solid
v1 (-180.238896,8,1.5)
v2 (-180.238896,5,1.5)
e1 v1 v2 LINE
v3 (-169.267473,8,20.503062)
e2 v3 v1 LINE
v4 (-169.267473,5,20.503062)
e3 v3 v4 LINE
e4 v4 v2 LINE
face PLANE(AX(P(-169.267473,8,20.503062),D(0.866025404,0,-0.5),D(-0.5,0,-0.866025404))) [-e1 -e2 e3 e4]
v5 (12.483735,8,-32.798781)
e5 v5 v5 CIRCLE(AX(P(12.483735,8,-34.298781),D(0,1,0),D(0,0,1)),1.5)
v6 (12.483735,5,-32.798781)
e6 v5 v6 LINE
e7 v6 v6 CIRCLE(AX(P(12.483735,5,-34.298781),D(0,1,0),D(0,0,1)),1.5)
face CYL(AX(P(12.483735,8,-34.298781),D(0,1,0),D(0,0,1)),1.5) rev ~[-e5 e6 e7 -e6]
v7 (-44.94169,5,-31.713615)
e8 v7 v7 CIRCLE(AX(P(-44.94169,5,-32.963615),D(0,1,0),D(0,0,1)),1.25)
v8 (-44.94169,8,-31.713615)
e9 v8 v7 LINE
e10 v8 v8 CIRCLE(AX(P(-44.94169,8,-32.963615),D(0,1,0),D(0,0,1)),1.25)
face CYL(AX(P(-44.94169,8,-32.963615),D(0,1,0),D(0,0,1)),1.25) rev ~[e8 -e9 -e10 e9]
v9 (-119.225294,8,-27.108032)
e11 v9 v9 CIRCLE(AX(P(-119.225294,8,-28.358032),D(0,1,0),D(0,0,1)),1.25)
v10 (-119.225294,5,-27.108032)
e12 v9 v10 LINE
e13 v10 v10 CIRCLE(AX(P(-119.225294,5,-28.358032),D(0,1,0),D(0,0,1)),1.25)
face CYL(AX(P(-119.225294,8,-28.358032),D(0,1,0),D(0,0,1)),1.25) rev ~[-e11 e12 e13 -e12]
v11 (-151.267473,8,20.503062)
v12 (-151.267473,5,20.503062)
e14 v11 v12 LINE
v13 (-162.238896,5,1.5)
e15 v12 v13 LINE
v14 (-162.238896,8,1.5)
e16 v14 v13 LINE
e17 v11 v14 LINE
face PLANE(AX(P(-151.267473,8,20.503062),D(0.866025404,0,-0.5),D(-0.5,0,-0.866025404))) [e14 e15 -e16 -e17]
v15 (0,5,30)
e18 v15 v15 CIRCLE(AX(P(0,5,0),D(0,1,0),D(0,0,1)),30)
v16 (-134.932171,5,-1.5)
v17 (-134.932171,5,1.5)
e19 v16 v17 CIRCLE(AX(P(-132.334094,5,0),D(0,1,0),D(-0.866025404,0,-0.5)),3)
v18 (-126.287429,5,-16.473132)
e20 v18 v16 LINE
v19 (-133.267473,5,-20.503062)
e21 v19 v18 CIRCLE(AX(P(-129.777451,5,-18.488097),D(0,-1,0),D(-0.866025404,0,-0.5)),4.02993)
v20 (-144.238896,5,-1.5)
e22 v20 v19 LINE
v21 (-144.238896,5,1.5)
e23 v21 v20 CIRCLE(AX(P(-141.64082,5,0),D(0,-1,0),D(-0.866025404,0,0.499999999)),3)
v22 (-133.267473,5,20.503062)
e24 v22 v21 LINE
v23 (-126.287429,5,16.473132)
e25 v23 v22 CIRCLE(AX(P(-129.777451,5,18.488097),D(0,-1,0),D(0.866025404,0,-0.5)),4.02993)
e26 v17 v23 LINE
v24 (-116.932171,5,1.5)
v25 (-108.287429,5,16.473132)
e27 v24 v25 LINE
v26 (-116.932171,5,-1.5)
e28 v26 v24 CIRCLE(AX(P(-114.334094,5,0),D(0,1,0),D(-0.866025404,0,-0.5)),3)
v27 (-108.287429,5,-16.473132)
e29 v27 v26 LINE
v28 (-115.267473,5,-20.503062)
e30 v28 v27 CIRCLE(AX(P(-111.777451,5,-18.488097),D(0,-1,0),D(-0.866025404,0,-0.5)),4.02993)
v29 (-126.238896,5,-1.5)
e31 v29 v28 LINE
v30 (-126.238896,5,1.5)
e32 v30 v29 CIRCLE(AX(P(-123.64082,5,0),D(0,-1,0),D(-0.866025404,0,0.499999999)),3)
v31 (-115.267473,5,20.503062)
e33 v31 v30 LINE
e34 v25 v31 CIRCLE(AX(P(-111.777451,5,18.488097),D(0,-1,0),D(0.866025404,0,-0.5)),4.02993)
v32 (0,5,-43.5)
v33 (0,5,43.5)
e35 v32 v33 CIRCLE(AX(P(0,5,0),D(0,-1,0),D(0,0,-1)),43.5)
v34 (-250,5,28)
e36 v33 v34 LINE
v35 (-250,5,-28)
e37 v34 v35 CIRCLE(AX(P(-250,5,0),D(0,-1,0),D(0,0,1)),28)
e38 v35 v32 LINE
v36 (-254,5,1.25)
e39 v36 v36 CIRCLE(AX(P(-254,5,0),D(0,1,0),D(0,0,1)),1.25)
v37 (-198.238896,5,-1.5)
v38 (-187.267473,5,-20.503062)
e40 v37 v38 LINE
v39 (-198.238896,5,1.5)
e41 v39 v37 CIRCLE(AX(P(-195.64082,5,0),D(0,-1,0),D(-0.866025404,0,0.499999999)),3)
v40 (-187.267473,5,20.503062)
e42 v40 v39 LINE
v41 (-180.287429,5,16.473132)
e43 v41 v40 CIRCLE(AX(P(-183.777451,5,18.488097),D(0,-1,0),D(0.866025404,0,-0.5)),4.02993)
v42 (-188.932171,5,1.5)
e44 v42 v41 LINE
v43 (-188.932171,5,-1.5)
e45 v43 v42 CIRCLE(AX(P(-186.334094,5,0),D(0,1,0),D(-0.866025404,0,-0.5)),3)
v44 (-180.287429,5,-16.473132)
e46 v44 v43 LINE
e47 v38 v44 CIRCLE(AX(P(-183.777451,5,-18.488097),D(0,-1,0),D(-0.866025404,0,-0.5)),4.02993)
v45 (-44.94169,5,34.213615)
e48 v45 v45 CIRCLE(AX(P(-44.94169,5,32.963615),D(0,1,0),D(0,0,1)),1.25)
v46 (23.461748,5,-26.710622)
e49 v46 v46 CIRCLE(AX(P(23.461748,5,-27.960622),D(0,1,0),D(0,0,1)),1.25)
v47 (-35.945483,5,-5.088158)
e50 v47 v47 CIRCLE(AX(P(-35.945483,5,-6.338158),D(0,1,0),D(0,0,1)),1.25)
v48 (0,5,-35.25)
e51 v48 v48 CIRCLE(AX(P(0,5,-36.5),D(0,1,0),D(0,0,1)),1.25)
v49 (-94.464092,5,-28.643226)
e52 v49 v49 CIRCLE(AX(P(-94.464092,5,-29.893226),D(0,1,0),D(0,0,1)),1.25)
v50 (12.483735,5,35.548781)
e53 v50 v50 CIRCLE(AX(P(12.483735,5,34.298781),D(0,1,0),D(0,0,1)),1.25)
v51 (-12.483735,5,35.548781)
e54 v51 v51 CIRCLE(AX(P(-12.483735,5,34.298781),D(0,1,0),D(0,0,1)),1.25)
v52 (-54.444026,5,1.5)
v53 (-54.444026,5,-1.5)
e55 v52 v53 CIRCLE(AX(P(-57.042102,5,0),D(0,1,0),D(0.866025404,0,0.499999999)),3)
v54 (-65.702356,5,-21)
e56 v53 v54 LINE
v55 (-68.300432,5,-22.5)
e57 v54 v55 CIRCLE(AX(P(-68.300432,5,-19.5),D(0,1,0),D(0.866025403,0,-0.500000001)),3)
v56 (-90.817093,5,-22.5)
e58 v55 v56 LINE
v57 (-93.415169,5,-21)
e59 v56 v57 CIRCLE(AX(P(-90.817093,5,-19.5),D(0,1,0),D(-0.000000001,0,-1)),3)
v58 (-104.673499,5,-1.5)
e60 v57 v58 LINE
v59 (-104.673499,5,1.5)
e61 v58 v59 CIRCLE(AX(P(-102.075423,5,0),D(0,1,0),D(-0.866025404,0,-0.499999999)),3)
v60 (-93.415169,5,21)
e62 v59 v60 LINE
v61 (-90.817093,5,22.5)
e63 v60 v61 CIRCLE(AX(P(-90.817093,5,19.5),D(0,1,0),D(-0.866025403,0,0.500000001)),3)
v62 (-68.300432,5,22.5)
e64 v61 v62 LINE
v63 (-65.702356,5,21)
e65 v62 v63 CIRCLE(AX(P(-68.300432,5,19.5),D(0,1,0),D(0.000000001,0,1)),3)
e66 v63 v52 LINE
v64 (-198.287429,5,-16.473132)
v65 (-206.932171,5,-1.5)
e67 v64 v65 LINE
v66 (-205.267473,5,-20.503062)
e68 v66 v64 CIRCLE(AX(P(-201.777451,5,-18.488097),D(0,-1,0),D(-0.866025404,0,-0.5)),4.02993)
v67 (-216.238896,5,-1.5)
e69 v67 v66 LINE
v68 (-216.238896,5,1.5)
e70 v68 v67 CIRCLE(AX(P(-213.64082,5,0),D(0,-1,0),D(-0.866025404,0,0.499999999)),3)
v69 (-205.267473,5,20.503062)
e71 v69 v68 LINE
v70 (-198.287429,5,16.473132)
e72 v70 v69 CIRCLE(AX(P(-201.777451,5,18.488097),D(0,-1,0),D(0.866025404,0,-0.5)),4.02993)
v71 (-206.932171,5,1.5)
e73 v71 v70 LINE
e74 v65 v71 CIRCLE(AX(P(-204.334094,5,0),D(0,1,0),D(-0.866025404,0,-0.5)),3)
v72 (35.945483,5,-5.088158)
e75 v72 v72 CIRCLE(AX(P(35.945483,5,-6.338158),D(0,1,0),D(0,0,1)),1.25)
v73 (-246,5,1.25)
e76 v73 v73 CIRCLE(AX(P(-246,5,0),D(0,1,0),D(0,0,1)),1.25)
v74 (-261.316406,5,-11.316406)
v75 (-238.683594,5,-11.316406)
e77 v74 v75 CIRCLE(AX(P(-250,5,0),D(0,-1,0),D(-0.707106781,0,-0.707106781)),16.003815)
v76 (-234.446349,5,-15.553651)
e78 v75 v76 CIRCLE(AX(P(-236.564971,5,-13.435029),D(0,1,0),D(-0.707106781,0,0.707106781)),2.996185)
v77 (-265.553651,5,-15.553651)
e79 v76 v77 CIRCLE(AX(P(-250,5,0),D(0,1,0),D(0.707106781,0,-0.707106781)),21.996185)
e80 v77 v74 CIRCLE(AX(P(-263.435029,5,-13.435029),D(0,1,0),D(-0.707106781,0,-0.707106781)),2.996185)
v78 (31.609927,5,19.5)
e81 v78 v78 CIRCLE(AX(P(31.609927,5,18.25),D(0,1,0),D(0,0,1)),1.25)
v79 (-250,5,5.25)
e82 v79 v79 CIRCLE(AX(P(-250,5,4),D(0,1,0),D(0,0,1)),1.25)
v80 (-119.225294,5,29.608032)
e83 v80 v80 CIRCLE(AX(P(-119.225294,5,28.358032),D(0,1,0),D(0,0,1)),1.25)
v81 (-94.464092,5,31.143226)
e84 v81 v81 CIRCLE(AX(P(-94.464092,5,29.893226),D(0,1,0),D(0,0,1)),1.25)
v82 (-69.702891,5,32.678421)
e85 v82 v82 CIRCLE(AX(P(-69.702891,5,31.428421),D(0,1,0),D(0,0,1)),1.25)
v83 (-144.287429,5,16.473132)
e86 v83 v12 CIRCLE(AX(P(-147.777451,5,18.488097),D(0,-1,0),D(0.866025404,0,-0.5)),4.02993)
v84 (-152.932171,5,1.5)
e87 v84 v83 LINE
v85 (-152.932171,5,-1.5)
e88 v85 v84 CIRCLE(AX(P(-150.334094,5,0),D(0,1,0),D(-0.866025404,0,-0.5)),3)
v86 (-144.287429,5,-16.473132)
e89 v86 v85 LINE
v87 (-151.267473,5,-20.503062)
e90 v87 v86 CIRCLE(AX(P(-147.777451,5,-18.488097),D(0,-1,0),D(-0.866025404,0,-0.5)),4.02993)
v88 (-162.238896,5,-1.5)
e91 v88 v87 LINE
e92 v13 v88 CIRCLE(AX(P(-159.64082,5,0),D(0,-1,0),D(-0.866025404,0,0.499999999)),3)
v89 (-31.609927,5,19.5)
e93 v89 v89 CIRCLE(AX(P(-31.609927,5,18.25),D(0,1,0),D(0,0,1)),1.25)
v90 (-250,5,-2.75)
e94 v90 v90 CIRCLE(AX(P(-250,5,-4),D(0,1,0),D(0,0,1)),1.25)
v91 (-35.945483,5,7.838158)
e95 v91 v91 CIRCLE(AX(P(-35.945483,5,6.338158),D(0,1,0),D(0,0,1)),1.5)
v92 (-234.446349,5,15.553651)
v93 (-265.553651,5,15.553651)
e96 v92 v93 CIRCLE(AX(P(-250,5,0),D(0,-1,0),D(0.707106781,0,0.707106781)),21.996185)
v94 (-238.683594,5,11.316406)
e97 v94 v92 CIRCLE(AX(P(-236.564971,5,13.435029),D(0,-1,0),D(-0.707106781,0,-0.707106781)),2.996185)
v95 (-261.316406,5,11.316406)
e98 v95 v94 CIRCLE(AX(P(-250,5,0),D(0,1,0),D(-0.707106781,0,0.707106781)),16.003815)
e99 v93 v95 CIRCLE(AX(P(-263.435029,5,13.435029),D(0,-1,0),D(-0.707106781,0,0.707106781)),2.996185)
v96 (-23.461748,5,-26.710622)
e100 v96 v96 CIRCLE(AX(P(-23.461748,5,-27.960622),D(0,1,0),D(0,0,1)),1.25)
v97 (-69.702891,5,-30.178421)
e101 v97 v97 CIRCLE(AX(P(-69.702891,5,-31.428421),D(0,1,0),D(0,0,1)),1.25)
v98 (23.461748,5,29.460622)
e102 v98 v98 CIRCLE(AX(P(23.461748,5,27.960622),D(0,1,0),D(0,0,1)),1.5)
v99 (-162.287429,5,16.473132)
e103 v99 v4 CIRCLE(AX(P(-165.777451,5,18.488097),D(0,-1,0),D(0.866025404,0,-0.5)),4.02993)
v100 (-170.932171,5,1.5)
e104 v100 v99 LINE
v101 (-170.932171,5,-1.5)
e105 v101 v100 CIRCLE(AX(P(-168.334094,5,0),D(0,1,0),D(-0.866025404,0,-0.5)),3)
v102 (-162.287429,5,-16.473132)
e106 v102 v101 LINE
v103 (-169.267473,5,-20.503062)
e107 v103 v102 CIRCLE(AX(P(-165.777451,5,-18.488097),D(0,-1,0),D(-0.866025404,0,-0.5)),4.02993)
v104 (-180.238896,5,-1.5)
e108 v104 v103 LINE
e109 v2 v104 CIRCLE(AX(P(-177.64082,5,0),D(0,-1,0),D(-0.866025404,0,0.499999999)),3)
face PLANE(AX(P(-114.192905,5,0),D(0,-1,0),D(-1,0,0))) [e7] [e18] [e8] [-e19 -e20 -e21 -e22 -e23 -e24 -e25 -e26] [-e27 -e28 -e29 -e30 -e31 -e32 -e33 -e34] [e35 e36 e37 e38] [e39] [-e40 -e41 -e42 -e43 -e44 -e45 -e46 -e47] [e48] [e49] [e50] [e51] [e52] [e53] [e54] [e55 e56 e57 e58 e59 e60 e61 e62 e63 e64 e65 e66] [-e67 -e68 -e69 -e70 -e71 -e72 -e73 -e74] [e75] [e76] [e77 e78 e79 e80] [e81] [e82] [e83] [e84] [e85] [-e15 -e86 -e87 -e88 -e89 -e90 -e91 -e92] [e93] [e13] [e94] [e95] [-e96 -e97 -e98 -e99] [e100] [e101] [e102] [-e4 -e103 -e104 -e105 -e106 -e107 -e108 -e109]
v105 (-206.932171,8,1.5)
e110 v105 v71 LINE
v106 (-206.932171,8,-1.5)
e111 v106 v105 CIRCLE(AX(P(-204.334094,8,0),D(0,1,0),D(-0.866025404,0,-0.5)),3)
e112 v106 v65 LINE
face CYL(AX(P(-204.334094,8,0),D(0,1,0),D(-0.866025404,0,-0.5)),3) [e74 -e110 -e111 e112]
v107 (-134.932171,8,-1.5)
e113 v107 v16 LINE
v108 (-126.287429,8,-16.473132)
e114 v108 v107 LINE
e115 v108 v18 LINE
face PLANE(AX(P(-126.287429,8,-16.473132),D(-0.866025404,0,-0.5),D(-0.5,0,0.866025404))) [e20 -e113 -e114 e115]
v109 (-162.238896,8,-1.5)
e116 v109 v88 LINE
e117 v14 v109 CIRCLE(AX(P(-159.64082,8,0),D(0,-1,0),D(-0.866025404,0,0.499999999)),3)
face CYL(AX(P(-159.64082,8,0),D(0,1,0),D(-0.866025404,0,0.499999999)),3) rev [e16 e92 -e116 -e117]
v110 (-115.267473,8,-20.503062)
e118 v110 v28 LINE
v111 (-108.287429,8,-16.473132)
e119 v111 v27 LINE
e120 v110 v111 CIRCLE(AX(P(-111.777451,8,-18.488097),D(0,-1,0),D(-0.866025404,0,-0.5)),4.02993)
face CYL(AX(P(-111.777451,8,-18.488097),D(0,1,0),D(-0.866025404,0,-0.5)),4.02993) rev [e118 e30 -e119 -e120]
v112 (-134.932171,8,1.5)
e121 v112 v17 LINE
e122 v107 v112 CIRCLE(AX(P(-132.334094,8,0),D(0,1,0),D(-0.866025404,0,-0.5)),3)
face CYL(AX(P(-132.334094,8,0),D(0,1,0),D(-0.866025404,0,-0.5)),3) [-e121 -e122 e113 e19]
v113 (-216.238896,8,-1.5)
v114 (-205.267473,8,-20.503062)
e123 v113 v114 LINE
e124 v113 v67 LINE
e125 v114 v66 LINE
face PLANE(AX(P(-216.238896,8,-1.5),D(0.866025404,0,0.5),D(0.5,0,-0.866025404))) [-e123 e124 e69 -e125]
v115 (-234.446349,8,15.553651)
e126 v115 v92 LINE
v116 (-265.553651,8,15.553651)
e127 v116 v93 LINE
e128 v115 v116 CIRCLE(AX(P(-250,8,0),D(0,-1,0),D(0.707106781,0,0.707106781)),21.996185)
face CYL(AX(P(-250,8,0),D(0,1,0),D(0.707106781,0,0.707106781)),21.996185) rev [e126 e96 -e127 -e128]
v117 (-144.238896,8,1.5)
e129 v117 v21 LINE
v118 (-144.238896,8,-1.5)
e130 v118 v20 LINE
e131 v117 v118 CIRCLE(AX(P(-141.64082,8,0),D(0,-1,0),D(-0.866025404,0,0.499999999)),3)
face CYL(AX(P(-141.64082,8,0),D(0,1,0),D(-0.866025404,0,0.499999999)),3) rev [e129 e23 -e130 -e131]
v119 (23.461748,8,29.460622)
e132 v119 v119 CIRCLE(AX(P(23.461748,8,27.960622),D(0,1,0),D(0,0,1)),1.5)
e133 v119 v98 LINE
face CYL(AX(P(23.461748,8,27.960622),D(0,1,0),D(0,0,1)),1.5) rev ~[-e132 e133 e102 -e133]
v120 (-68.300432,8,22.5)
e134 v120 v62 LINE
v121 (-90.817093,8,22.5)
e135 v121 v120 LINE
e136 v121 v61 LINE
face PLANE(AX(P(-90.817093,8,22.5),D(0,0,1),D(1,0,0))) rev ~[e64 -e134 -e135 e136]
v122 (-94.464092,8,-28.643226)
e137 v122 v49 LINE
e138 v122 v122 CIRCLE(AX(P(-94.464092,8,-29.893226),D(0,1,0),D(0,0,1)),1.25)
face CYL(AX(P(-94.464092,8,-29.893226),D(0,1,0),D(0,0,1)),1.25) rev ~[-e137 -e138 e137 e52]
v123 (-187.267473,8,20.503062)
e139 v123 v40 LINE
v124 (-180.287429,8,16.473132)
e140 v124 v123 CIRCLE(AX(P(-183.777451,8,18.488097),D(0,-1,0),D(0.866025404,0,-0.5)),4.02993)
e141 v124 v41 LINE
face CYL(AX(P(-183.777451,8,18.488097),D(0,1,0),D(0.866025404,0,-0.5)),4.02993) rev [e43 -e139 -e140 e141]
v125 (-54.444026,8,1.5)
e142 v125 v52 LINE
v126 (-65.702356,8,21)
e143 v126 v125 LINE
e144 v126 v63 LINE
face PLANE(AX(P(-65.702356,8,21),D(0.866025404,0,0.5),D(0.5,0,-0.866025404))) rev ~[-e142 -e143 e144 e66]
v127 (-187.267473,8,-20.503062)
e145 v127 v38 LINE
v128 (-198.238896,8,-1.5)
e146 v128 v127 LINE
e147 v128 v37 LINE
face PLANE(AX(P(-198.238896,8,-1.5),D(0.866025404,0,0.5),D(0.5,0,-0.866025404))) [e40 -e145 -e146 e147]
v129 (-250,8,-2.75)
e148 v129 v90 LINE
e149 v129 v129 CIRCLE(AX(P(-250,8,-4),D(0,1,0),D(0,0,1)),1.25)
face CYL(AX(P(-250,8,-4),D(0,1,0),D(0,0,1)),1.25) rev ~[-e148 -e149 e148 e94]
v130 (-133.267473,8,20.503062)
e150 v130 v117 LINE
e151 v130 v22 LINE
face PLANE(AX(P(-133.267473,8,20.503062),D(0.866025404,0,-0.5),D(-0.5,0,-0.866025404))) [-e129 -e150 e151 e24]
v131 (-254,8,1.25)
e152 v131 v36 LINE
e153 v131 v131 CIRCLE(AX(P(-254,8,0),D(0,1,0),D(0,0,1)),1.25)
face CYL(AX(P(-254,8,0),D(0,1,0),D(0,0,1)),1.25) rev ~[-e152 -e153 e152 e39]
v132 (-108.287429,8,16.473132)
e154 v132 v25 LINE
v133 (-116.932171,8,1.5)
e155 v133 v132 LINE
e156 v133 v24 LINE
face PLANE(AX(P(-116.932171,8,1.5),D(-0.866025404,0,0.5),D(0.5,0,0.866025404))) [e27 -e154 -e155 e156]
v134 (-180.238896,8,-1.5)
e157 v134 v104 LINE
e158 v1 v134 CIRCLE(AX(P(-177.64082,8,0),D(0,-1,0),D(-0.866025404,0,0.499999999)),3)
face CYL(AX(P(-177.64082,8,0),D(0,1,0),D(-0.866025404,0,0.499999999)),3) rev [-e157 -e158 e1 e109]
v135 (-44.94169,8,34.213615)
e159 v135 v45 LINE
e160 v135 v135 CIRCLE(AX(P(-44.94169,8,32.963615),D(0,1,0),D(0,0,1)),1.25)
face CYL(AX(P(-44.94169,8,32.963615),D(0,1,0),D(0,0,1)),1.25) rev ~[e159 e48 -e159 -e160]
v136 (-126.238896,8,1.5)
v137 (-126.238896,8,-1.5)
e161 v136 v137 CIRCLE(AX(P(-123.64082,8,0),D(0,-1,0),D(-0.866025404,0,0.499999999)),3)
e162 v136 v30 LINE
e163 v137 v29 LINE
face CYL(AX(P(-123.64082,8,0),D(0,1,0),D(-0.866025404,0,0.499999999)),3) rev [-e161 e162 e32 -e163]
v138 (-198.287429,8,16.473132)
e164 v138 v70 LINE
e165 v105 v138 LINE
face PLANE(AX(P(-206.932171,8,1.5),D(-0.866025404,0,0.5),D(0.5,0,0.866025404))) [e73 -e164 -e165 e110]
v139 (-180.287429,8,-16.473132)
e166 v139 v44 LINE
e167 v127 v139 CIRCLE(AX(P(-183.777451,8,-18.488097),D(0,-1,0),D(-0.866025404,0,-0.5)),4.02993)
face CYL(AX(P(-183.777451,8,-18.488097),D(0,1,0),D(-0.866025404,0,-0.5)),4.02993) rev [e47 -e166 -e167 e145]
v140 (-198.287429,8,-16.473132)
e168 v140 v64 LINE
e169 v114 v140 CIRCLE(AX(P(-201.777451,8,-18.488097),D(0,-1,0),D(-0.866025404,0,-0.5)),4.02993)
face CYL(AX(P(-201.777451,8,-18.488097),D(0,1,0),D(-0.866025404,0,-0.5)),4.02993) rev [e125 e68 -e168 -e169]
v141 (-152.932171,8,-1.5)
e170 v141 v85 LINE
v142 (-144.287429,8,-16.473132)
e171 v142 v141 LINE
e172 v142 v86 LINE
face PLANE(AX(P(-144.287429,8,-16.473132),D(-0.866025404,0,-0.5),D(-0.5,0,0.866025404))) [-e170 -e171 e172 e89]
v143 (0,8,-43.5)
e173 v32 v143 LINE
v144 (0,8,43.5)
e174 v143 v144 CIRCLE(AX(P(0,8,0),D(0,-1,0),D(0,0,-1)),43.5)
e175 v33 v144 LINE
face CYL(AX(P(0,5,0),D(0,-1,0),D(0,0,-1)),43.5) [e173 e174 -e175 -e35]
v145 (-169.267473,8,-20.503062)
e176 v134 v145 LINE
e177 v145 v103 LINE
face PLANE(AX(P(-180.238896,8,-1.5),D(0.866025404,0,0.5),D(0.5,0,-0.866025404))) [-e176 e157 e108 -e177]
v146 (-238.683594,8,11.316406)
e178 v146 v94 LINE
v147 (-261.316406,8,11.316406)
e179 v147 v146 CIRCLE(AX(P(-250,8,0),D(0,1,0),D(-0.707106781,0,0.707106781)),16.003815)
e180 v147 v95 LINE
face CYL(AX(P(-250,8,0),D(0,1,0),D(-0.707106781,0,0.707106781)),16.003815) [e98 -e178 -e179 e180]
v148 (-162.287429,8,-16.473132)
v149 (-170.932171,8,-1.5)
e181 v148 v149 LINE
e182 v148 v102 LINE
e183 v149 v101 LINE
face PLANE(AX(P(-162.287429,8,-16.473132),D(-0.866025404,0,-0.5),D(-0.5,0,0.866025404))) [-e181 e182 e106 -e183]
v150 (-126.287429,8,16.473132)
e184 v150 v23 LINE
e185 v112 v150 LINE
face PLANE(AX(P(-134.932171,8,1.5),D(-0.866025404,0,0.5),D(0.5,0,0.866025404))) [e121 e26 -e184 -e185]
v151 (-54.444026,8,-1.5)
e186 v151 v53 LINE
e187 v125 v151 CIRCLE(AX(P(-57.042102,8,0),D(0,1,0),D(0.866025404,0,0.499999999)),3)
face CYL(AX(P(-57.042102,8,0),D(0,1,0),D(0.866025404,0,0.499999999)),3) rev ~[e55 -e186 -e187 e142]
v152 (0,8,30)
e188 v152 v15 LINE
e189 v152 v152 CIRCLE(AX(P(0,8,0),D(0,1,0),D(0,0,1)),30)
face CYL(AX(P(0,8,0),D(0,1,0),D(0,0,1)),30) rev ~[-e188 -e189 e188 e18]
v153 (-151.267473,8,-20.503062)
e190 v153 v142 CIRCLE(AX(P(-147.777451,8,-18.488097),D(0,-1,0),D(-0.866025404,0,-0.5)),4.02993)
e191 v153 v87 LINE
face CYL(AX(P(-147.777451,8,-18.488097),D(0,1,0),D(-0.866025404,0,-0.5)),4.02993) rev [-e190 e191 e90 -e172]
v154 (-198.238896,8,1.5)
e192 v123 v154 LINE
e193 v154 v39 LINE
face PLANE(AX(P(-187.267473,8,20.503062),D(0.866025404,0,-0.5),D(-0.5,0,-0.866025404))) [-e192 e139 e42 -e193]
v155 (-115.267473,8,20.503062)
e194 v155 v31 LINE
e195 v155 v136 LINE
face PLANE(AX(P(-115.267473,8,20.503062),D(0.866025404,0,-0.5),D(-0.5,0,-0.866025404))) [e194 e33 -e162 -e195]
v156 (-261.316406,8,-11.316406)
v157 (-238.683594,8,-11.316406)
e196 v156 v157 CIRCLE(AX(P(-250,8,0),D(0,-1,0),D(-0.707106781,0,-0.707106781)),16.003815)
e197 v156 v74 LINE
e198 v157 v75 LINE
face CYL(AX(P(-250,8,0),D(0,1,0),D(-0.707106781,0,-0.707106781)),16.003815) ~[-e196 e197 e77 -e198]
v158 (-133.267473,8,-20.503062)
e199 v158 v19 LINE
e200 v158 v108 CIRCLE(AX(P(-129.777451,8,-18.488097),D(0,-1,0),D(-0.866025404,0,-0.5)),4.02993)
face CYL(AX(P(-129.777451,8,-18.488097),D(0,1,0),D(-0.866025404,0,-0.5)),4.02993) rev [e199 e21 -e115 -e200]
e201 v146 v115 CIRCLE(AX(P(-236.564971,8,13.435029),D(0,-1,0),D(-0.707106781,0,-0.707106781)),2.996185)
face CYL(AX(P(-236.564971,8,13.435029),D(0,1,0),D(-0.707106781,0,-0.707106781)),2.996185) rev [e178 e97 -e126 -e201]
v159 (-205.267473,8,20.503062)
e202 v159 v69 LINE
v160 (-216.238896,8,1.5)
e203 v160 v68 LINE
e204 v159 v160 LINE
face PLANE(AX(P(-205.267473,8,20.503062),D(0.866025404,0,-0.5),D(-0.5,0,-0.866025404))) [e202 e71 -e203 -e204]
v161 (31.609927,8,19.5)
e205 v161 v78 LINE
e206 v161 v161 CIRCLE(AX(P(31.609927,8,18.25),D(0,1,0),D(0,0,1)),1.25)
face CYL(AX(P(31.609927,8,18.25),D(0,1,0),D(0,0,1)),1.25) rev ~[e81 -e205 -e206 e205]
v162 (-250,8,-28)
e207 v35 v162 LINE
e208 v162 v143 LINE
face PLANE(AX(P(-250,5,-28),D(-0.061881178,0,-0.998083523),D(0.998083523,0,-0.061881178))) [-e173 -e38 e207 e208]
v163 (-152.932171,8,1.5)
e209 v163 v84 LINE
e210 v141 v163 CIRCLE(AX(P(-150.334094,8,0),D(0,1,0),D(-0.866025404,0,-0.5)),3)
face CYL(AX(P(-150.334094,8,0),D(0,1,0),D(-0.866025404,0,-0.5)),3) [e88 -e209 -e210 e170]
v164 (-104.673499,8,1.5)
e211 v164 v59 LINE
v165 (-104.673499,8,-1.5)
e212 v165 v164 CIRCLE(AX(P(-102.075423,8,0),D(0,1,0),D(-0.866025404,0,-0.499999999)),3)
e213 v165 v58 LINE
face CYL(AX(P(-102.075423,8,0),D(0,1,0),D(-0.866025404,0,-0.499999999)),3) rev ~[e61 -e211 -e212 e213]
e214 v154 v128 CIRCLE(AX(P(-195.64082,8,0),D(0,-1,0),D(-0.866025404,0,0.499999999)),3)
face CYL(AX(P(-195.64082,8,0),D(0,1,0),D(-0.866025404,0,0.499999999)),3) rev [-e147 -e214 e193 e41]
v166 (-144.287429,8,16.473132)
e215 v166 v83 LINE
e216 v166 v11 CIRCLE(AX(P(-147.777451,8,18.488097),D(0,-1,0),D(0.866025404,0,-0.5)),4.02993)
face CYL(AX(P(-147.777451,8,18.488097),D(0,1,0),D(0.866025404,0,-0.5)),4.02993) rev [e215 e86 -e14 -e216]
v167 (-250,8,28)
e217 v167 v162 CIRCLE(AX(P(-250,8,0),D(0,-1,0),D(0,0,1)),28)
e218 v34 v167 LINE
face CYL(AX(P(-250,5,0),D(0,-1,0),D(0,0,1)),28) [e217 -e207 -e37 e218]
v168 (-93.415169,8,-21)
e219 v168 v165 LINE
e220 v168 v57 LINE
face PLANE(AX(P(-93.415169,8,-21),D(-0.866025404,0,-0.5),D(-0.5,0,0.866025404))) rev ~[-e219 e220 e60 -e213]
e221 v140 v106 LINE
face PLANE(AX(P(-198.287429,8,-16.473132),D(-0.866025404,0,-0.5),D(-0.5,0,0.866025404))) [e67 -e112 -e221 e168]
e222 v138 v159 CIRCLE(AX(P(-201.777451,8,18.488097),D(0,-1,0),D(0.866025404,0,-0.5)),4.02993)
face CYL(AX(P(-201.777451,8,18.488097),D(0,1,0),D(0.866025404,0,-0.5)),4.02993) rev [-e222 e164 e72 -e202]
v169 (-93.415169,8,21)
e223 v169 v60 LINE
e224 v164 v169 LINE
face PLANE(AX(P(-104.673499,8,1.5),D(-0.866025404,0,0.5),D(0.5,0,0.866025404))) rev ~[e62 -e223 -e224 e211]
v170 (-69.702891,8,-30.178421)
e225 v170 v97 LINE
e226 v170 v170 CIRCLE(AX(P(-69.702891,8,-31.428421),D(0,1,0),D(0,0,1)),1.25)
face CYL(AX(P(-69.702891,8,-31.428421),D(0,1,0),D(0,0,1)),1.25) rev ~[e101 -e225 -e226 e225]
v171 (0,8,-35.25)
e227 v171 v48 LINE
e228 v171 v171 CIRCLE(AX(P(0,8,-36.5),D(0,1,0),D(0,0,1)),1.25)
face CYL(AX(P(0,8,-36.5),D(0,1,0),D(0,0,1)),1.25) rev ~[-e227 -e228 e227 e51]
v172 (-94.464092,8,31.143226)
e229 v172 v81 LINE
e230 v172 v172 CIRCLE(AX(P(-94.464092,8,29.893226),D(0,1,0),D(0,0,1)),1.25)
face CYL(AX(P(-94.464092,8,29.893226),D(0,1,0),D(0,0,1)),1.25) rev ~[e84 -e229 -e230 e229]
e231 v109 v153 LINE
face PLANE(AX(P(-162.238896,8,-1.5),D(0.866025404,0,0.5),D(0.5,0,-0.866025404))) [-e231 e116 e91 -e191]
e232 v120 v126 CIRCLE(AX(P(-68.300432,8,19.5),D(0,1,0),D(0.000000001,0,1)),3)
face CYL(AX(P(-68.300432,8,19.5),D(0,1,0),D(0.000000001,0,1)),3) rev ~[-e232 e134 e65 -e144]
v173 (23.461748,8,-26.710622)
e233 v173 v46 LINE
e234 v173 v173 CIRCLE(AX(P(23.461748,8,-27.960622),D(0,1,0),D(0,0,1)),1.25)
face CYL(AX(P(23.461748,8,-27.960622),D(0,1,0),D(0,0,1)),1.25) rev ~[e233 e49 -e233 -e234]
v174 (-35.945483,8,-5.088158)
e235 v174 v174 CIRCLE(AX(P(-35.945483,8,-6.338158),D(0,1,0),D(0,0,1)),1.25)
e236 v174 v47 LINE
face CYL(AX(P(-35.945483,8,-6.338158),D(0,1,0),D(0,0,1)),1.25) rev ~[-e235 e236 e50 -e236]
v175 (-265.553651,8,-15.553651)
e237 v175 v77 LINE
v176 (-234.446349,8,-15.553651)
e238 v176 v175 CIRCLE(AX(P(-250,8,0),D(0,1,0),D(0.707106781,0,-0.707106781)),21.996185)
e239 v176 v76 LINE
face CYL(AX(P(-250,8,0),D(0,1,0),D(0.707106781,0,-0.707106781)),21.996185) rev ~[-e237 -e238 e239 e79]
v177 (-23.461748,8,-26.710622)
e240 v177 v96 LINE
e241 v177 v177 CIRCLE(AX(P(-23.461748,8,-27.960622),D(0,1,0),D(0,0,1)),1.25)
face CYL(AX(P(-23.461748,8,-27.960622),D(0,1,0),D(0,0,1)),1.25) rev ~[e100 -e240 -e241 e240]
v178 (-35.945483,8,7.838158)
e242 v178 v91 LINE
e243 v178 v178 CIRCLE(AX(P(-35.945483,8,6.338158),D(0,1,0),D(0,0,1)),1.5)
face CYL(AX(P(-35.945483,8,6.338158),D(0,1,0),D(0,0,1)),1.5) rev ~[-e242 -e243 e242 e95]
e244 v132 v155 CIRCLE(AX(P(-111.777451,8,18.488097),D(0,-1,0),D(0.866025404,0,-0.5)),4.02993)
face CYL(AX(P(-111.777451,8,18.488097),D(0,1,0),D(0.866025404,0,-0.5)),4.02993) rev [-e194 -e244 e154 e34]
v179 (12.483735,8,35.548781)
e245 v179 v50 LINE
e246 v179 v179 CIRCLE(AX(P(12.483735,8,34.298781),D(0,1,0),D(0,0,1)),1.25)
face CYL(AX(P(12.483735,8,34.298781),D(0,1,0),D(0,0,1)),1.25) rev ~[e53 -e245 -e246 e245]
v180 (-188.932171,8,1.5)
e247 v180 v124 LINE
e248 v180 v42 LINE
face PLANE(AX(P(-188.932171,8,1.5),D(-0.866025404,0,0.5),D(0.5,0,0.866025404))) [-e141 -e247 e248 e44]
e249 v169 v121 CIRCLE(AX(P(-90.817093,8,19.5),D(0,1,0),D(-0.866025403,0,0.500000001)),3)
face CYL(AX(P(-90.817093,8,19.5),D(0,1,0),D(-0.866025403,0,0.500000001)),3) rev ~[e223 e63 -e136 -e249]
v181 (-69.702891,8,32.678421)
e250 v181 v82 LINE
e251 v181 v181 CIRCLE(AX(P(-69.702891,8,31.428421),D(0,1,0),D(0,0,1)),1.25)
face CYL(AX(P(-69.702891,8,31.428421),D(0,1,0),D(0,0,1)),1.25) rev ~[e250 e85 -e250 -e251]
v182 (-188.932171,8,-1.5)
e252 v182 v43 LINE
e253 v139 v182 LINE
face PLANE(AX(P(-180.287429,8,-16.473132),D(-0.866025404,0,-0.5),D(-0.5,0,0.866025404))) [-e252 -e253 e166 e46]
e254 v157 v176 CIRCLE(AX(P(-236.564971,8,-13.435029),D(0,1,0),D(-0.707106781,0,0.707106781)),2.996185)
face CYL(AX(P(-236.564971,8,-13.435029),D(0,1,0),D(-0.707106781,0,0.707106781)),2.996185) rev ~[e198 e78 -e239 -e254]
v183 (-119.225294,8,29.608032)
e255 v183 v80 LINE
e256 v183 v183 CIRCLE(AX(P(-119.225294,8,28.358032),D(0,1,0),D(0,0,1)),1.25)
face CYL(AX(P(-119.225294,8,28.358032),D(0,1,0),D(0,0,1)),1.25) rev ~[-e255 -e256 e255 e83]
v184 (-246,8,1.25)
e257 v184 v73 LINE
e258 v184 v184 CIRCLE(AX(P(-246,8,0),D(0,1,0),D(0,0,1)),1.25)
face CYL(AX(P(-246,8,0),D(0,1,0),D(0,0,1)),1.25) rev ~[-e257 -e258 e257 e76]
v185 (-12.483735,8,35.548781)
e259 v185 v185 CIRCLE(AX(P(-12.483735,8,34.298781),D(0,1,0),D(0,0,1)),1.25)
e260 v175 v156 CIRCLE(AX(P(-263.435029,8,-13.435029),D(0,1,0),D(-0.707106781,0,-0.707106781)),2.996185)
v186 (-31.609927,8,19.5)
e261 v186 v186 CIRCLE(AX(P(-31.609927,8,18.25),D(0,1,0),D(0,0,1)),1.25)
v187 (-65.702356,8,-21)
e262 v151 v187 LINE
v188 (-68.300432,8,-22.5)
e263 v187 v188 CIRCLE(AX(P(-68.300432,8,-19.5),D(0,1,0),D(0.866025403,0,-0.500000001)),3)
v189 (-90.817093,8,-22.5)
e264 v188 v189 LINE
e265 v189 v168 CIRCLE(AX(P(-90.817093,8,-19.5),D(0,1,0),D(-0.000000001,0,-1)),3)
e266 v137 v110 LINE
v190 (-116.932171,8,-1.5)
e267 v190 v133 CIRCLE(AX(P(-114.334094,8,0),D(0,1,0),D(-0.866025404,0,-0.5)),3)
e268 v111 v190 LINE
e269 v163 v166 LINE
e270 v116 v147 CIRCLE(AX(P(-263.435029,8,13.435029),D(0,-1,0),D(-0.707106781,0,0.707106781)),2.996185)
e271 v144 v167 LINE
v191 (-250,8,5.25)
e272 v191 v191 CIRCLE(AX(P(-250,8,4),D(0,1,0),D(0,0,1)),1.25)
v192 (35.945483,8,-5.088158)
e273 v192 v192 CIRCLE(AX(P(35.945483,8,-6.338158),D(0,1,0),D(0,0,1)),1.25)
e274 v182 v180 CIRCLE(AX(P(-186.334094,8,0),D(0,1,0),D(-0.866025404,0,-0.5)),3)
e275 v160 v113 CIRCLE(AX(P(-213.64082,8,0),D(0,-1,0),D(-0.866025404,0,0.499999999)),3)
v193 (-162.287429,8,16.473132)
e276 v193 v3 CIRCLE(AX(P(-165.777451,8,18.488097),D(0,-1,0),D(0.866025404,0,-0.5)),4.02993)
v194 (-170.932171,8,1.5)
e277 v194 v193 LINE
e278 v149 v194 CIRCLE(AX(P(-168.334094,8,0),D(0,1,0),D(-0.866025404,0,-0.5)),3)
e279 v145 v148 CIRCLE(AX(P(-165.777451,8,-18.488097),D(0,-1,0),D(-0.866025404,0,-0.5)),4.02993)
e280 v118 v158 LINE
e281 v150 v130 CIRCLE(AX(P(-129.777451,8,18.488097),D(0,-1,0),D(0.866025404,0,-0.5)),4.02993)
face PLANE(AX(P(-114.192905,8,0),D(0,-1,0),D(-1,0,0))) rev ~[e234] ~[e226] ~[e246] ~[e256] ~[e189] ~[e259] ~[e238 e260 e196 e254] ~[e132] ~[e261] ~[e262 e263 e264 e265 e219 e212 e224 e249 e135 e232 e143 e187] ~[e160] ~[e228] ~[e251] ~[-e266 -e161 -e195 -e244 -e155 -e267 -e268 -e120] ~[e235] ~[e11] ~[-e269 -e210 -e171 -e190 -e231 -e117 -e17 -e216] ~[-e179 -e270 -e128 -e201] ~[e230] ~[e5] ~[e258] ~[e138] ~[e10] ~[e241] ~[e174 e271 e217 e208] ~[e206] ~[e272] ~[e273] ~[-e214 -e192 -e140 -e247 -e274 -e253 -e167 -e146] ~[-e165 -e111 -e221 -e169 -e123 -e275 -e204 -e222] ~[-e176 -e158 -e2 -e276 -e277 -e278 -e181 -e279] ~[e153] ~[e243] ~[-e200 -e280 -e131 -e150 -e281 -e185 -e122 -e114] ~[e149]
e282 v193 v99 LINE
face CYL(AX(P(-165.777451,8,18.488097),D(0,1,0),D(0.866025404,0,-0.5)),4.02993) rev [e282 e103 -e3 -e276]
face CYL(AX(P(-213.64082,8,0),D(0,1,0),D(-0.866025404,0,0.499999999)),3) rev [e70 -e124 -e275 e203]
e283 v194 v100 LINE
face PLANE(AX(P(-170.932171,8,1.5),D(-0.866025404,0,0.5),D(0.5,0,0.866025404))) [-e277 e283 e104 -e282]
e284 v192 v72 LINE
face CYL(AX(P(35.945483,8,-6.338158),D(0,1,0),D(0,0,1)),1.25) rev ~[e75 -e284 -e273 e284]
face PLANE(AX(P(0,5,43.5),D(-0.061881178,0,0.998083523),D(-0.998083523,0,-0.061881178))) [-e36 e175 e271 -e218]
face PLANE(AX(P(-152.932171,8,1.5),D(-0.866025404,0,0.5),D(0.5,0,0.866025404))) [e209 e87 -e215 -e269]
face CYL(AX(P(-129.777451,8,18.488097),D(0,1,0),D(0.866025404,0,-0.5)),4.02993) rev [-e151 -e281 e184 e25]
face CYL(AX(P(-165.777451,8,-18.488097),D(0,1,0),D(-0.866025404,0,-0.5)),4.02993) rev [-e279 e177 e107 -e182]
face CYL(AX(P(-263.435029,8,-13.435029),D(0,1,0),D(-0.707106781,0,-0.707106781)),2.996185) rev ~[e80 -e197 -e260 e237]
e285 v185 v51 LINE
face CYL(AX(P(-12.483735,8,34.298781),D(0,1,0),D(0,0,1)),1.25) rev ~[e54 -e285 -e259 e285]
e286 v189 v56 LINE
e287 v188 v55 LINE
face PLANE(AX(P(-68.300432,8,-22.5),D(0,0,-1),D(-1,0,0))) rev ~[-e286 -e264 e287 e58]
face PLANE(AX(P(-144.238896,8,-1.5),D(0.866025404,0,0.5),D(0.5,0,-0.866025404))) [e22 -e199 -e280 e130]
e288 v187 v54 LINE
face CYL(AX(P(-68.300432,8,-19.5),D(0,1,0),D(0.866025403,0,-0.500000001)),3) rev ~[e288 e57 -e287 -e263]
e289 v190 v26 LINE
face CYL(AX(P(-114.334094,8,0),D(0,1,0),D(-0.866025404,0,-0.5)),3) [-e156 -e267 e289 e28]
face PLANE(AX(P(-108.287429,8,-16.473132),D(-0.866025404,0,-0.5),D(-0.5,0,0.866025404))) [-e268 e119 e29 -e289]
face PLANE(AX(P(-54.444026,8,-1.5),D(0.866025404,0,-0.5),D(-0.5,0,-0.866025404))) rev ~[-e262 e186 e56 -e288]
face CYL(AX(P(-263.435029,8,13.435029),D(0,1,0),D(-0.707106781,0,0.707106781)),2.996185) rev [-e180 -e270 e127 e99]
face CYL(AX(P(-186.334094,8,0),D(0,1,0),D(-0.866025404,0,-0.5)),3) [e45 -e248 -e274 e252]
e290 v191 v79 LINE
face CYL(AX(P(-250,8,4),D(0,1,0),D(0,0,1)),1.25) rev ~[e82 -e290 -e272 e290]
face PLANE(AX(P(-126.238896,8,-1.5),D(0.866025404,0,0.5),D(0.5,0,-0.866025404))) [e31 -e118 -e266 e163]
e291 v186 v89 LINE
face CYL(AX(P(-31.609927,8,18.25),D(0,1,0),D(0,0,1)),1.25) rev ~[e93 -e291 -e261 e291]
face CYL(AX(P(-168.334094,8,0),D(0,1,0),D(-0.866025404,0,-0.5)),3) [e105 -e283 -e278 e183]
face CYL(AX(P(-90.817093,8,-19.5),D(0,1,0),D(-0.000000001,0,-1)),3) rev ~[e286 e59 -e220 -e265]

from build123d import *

# Parameters (mm, degrees)
EXTRUDE_1_DEPTH     = 3
SKETCH_3_R          = 1.25
SKETCH_3_R_2        = 30
SKETCH_3_R_3        = 1.5
CUT_EXTRUDE_1_DEPTH = 3
CUT_EXTRUDE_2_DEPTH = 3
SKETCH_5_R          = 1.25
CUT_EXTRUDE_3_DEPTH = 10


with BuildPart() as part:
    # 草图2 → 凸台-拉伸1 (new body)
    with BuildSketch(Plane(origin=(0, 5, 0), x_dir=(1, 0, 0), z_dir=(0, 1, 0))):
        with BuildLine():
            Line((-250, 28), (0, 43.5))
            ThreePointArc((0, 43.5), (43.5, 0), (0, -43.5))
            Line((0, -43.5), (-250, -28))
            ThreePointArc((-250, -28), (-278, 0), (-250, 28))
        make_face()
    extrude(amount=EXTRUDE_1_DEPTH)

    # 草图3 → 切除-拉伸1 (cut)
    with BuildSketch(Plane(origin=(0, 8, 0), x_dir=(1, 0, 0), z_dir=(0, 1, 0))):
        with Locations(Location((-250, 4, 0), (0, 0, 270))):
            Circle(SKETCH_3_R)
        with Locations(Location((-246, 0, 0), (0, 0, 270))):
            Circle(SKETCH_3_R)
        with Locations(Location((-250, -4, 0), (0, 0, 270))):
            Circle(SKETCH_3_R)
        with Locations(Location((-254, 0, 0), (0, 0, 270))):
            Circle(SKETCH_3_R)
        with Locations(Location((0, 0, 0), (0, 0, 270))):
            Circle(SKETCH_3_R_2)
        with Locations(Location((0, 36.5, 0), (0, 0, 270))):
            Circle(SKETCH_3_R)
        with Locations(Location((12.483735231, 34.298780659, 0), (0, 0, 270))):
            Circle(SKETCH_3_R_3)
        with Locations(Location((23.461747754, 27.960622174, 0), (0, 0, 270))):
            Circle(SKETCH_3_R)
        with Locations(Location((-23.461747754, 27.960622174, 0), (0, 0, 270))):
            Circle(SKETCH_3_R)
        with Locations(Location((-35.945482985, 6.338158485, 0), (0, 0, 270))):
            Circle(SKETCH_3_R)
        with Locations(Location((-35.945482985, -6.338158485, 0), (0, 0, 270))):
            Circle(SKETCH_3_R_3)
        with Locations(Location((-31.609927238, -18.25, 0), (0, 0, 270))):
            Circle(SKETCH_3_R)
        with Locations(Location((-12.483735231, -34.298780659, 0), (0, 0, 270))):
            Circle(SKETCH_3_R)
        with Locations(Location((12.483735231, -34.298780659, 0), (0, 0, 270))):
            Circle(SKETCH_3_R)
        with Locations(Location((23.461747754, -27.960622174, 0), (0, 0, 270))):
            Circle(SKETCH_3_R_3)
        with Locations(Location((31.609927238, -18.25, 0), (0, 0, 270))):
            Circle(SKETCH_3_R)
        with Locations(Location((35.945482985, 6.338158485, 0), (0, 0, 270))):
            Circle(SKETCH_3_R)
        with BuildLine():
            ThreePointArc((-265.553651429, 15.553651429), (-265.553651429, 11.316406256), (-261.316406256, 11.316406256))
            ThreePointArc((-261.316406256, 11.316406256), (-250, 16.003815204), (-238.683593744, 11.316406256))
            ThreePointArc((-238.683593744, 11.316406256), (-234.446348571, 11.316406256), (-234.446348571, 15.553651429))
            ThreePointArc((-234.446348571, 15.553651429), (-250, 21.996184796), (-265.553651429, 15.553651429))
        make_face()
        with BuildLine():
            ThreePointArc((-261.316406256, -11.316406256), (-250, -16.003815204), (-238.683593744, -11.316406256))
            ThreePointArc((-238.683593744, -11.316406256), (-234.446348571, -11.316406256), (-234.446348571, -15.553651429))
            ThreePointArc((-234.446348571, -15.553651429), (-250, -21.996184796), (-265.553651429, -15.553651429))
            ThreePointArc((-265.553651429, -15.553651429), (-265.553651429, -11.316406256), (-261.316406256, -11.316406256))
        make_face()
    extrude(amount=-CUT_EXTRUDE_1_DEPTH, mode=Mode.SUBTRACT)

    # 草图4 → 切除-拉伸2 (cut)
    with BuildSketch(Plane(origin=(0, 8, 0), x_dir=(1, 0, 0), z_dir=(0, 1, 0))):
        with BuildLine():
            Line((-216.23889617, 1.5), (-205.267472927, 20.503062488))
            ThreePointArc((-205.267472927, 20.503062488), (-199.762485666, 21.978119379), (-198.287428775, 16.473132117))
            Line((-198.287428775, 16.473132117), (-206.932170633, 1.5))
            ThreePointArc((-206.932170633, 1.5), (-207.334094422, 0), (-206.932170633, -1.5))
            Line((-206.932170633, -1.5), (-198.287428775, -16.473132117))
            ThreePointArc((-198.287428775, -16.473132117), (-199.762485666, -21.978119379), (-205.267472927, -20.503062488))
            Line((-205.267472927, -20.503062488), (-216.23889617, -1.5))
            ThreePointArc((-216.23889617, -1.5), (-216.640819958, 0), (-216.23889617, 1.5))
        make_face()
        with BuildLine():
            Line((-54.444025551, 1.5), (-65.7023558, 21))
            ThreePointArc((-65.7023558, 21), (-66.800432012, 22.098076211), (-68.300432012, 22.5))
            Line((-68.300432012, 22.5), (-90.81709251, 22.5))
            ThreePointArc((-90.81709251, 22.5), (-92.31709251, 22.098076211), (-93.415168722, 21))
            Line((-93.415168722, 21), (-104.673498971, 1.5))
            ThreePointArc((-104.673498971, 1.5), (-105.075422759, 0), (-104.673498971, -1.5))
            Line((-104.673498971, -1.5), (-93.415168722, -21))
            ThreePointArc((-93.415168722, -21), (-92.31709251, -22.098076211), (-90.81709251, -22.5))
            Line((-90.81709251, -22.5), (-68.300432012, -22.5))
            ThreePointArc((-68.300432012, -22.5), (-66.800432012, -22.098076211), (-65.7023558, -21))
            Line((-65.7023558, -21), (-54.444025551, -1.5))
            ThreePointArc((-54.444025551, -1.5), (-54.042101763, 0), (-54.444025551, 1.5))
        make_face()
        with BuildLine():
            Line((-188.932170633, -1.5), (-180.287428775, -16.473132117))
            ThreePointArc((-180.287428775, -16.473132117), (-181.762485666, -21.978119379), (-187.267472927, -20.503062488))
            Line((-187.267472927, -20.503062488), (-198.23889617, -1.5))
            ThreePointArc((-198.23889617, -1.5), (-198.640819958, 0), (-198.23889617, 1.5))
            Line((-198.23889617, 1.5), (-187.267472927, 20.503062488))
            ThreePointArc((-187.267472927, 20.503062488), (-181.762485666, 21.978119379), (-180.287428775, 16.473132117))
            Line((-180.287428775, 16.473132117), (-188.932170633, 1.5))
            ThreePointArc((-188.932170633, 1.5), (-189.334094422, 0), (-188.932170633, -1.5))
        make_face()
        with BuildLine():
            Line((-170.932170633, -1.5), (-162.287428775, -16.473132117))
            ThreePointArc((-162.287428775, -16.473132117), (-163.762485666, -21.978119379), (-169.267472927, -20.503062488))
            Line((-169.267472927, -20.503062488), (-180.23889617, -1.5))
            ThreePointArc((-180.23889617, -1.5), (-180.640819958, 0), (-180.23889617, 1.5))
            Line((-180.23889617, 1.5), (-169.267472927, 20.503062488))
            ThreePointArc((-169.267472927, 20.503062488), (-163.762485666, 21.978119379), (-162.287428775, 16.473132117))
            Line((-162.287428775, 16.473132117), (-170.932170633, 1.5))
            ThreePointArc((-170.932170633, 1.5), (-171.334094422, 0), (-170.932170633, -1.5))
        make_face()
        with BuildLine():
            Line((-152.932170633, -1.5), (-144.287428775, -16.473132117))
            ThreePointArc((-144.287428775, -16.473132117), (-145.762485666, -21.978119379), (-151.267472927, -20.503062488))
            Line((-151.267472927, -20.503062488), (-162.23889617, -1.5))
            ThreePointArc((-162.23889617, -1.5), (-162.640819958, 0), (-162.23889617, 1.5))
            Line((-162.23889617, 1.5), (-151.267472927, 20.503062488))
            ThreePointArc((-151.267472927, 20.503062488), (-145.762485666, 21.978119379), (-144.287428775, 16.473132117))
            Line((-144.287428775, 16.473132117), (-152.932170633, 1.5))
            ThreePointArc((-152.932170633, 1.5), (-153.334094422, 0), (-152.932170633, -1.5))
        make_face()
        with BuildLine():
            Line((-134.932170633, -1.5), (-126.287428775, -16.473132117))
            ThreePointArc((-126.287428775, -16.473132117), (-127.762485666, -21.978119379), (-133.267472927, -20.503062488))
            Line((-133.267472927, -20.503062488), (-144.23889617, -1.5))
            ThreePointArc((-144.23889617, -1.5), (-144.640819958, 0), (-144.23889617, 1.5))
            Line((-144.23889617, 1.5), (-133.267472927, 20.503062488))
            ThreePointArc((-133.267472927, 20.503062488), (-127.762485666, 21.978119379), (-126.287428775, 16.473132117))
            Line((-126.287428775, 16.473132117), (-134.932170633, 1.5))
            ThreePointArc((-134.932170633, 1.5), (-135.334094422, 0), (-134.932170633, -1.5))
        make_face()
        with BuildLine():
            Line((-116.932170633, -1.5), (-108.287428775, -16.473132117))
            ThreePointArc((-108.287428775, -16.473132117), (-109.762485666, -21.978119379), (-115.267472927, -20.503062488))
            Line((-115.267472927, -20.503062488), (-126.23889617, -1.5))
            ThreePointArc((-126.23889617, -1.5), (-126.640819958, 0), (-126.23889617, 1.5))
            Line((-126.23889617, 1.5), (-115.267472927, 20.503062488))
            ThreePointArc((-115.267472927, 20.503062488), (-109.762485666, 21.978119379), (-108.287428775, 16.473132117))
            Line((-108.287428775, 16.473132117), (-116.932170633, 1.5))
            ThreePointArc((-116.932170633, 1.5), (-117.334094422, 0), (-116.932170633, -1.5))
        make_face()
    extrude(amount=-CUT_EXTRUDE_2_DEPTH, mode=Mode.SUBTRACT)

    # 草图5 → 切除-拉伸3 (cut)
    with BuildSketch(Plane(origin=(0, 8, 0), x_dir=(1, 0, 0), z_dir=(0, 1, 0))):
        with Locations(Location((-44.941689831, 32.96361523, 0), (0, 0, 270))):
            Circle(SKETCH_5_R)
        with Locations(Location((-69.702891128, 31.42842075, 0), (0, 0, 270))):
            Circle(SKETCH_5_R)
        with Locations(Location((-119.225293723, 28.358031789, 0), (0, 0, 270))):
            Circle(SKETCH_5_R)
        with Locations(Location((-94.464092426, 29.89322627, 0), (0, 0, 270))):
            Circle(SKETCH_5_R)
        with Locations(Location((-44.941689831, -32.96361523, 0), (0, 0, 270))):
            Circle(SKETCH_5_R)
        with Locations(Location((-69.702891128, -31.42842075, 0), (0, 0, 270))):
            Circle(SKETCH_5_R)
        with Locations(Location((-94.464092426, -29.89322627, 0), (0, 0, 270))):
            Circle(SKETCH_5_R)
        with Locations(Location((-119.225293723, -28.358031789, 0), (0, 0, 270))):
            Circle(SKETCH_5_R)
    extrude(amount=-CUT_EXTRUDE_3_DEPTH, mode=Mode.SUBTRACT)


solid = part.part
